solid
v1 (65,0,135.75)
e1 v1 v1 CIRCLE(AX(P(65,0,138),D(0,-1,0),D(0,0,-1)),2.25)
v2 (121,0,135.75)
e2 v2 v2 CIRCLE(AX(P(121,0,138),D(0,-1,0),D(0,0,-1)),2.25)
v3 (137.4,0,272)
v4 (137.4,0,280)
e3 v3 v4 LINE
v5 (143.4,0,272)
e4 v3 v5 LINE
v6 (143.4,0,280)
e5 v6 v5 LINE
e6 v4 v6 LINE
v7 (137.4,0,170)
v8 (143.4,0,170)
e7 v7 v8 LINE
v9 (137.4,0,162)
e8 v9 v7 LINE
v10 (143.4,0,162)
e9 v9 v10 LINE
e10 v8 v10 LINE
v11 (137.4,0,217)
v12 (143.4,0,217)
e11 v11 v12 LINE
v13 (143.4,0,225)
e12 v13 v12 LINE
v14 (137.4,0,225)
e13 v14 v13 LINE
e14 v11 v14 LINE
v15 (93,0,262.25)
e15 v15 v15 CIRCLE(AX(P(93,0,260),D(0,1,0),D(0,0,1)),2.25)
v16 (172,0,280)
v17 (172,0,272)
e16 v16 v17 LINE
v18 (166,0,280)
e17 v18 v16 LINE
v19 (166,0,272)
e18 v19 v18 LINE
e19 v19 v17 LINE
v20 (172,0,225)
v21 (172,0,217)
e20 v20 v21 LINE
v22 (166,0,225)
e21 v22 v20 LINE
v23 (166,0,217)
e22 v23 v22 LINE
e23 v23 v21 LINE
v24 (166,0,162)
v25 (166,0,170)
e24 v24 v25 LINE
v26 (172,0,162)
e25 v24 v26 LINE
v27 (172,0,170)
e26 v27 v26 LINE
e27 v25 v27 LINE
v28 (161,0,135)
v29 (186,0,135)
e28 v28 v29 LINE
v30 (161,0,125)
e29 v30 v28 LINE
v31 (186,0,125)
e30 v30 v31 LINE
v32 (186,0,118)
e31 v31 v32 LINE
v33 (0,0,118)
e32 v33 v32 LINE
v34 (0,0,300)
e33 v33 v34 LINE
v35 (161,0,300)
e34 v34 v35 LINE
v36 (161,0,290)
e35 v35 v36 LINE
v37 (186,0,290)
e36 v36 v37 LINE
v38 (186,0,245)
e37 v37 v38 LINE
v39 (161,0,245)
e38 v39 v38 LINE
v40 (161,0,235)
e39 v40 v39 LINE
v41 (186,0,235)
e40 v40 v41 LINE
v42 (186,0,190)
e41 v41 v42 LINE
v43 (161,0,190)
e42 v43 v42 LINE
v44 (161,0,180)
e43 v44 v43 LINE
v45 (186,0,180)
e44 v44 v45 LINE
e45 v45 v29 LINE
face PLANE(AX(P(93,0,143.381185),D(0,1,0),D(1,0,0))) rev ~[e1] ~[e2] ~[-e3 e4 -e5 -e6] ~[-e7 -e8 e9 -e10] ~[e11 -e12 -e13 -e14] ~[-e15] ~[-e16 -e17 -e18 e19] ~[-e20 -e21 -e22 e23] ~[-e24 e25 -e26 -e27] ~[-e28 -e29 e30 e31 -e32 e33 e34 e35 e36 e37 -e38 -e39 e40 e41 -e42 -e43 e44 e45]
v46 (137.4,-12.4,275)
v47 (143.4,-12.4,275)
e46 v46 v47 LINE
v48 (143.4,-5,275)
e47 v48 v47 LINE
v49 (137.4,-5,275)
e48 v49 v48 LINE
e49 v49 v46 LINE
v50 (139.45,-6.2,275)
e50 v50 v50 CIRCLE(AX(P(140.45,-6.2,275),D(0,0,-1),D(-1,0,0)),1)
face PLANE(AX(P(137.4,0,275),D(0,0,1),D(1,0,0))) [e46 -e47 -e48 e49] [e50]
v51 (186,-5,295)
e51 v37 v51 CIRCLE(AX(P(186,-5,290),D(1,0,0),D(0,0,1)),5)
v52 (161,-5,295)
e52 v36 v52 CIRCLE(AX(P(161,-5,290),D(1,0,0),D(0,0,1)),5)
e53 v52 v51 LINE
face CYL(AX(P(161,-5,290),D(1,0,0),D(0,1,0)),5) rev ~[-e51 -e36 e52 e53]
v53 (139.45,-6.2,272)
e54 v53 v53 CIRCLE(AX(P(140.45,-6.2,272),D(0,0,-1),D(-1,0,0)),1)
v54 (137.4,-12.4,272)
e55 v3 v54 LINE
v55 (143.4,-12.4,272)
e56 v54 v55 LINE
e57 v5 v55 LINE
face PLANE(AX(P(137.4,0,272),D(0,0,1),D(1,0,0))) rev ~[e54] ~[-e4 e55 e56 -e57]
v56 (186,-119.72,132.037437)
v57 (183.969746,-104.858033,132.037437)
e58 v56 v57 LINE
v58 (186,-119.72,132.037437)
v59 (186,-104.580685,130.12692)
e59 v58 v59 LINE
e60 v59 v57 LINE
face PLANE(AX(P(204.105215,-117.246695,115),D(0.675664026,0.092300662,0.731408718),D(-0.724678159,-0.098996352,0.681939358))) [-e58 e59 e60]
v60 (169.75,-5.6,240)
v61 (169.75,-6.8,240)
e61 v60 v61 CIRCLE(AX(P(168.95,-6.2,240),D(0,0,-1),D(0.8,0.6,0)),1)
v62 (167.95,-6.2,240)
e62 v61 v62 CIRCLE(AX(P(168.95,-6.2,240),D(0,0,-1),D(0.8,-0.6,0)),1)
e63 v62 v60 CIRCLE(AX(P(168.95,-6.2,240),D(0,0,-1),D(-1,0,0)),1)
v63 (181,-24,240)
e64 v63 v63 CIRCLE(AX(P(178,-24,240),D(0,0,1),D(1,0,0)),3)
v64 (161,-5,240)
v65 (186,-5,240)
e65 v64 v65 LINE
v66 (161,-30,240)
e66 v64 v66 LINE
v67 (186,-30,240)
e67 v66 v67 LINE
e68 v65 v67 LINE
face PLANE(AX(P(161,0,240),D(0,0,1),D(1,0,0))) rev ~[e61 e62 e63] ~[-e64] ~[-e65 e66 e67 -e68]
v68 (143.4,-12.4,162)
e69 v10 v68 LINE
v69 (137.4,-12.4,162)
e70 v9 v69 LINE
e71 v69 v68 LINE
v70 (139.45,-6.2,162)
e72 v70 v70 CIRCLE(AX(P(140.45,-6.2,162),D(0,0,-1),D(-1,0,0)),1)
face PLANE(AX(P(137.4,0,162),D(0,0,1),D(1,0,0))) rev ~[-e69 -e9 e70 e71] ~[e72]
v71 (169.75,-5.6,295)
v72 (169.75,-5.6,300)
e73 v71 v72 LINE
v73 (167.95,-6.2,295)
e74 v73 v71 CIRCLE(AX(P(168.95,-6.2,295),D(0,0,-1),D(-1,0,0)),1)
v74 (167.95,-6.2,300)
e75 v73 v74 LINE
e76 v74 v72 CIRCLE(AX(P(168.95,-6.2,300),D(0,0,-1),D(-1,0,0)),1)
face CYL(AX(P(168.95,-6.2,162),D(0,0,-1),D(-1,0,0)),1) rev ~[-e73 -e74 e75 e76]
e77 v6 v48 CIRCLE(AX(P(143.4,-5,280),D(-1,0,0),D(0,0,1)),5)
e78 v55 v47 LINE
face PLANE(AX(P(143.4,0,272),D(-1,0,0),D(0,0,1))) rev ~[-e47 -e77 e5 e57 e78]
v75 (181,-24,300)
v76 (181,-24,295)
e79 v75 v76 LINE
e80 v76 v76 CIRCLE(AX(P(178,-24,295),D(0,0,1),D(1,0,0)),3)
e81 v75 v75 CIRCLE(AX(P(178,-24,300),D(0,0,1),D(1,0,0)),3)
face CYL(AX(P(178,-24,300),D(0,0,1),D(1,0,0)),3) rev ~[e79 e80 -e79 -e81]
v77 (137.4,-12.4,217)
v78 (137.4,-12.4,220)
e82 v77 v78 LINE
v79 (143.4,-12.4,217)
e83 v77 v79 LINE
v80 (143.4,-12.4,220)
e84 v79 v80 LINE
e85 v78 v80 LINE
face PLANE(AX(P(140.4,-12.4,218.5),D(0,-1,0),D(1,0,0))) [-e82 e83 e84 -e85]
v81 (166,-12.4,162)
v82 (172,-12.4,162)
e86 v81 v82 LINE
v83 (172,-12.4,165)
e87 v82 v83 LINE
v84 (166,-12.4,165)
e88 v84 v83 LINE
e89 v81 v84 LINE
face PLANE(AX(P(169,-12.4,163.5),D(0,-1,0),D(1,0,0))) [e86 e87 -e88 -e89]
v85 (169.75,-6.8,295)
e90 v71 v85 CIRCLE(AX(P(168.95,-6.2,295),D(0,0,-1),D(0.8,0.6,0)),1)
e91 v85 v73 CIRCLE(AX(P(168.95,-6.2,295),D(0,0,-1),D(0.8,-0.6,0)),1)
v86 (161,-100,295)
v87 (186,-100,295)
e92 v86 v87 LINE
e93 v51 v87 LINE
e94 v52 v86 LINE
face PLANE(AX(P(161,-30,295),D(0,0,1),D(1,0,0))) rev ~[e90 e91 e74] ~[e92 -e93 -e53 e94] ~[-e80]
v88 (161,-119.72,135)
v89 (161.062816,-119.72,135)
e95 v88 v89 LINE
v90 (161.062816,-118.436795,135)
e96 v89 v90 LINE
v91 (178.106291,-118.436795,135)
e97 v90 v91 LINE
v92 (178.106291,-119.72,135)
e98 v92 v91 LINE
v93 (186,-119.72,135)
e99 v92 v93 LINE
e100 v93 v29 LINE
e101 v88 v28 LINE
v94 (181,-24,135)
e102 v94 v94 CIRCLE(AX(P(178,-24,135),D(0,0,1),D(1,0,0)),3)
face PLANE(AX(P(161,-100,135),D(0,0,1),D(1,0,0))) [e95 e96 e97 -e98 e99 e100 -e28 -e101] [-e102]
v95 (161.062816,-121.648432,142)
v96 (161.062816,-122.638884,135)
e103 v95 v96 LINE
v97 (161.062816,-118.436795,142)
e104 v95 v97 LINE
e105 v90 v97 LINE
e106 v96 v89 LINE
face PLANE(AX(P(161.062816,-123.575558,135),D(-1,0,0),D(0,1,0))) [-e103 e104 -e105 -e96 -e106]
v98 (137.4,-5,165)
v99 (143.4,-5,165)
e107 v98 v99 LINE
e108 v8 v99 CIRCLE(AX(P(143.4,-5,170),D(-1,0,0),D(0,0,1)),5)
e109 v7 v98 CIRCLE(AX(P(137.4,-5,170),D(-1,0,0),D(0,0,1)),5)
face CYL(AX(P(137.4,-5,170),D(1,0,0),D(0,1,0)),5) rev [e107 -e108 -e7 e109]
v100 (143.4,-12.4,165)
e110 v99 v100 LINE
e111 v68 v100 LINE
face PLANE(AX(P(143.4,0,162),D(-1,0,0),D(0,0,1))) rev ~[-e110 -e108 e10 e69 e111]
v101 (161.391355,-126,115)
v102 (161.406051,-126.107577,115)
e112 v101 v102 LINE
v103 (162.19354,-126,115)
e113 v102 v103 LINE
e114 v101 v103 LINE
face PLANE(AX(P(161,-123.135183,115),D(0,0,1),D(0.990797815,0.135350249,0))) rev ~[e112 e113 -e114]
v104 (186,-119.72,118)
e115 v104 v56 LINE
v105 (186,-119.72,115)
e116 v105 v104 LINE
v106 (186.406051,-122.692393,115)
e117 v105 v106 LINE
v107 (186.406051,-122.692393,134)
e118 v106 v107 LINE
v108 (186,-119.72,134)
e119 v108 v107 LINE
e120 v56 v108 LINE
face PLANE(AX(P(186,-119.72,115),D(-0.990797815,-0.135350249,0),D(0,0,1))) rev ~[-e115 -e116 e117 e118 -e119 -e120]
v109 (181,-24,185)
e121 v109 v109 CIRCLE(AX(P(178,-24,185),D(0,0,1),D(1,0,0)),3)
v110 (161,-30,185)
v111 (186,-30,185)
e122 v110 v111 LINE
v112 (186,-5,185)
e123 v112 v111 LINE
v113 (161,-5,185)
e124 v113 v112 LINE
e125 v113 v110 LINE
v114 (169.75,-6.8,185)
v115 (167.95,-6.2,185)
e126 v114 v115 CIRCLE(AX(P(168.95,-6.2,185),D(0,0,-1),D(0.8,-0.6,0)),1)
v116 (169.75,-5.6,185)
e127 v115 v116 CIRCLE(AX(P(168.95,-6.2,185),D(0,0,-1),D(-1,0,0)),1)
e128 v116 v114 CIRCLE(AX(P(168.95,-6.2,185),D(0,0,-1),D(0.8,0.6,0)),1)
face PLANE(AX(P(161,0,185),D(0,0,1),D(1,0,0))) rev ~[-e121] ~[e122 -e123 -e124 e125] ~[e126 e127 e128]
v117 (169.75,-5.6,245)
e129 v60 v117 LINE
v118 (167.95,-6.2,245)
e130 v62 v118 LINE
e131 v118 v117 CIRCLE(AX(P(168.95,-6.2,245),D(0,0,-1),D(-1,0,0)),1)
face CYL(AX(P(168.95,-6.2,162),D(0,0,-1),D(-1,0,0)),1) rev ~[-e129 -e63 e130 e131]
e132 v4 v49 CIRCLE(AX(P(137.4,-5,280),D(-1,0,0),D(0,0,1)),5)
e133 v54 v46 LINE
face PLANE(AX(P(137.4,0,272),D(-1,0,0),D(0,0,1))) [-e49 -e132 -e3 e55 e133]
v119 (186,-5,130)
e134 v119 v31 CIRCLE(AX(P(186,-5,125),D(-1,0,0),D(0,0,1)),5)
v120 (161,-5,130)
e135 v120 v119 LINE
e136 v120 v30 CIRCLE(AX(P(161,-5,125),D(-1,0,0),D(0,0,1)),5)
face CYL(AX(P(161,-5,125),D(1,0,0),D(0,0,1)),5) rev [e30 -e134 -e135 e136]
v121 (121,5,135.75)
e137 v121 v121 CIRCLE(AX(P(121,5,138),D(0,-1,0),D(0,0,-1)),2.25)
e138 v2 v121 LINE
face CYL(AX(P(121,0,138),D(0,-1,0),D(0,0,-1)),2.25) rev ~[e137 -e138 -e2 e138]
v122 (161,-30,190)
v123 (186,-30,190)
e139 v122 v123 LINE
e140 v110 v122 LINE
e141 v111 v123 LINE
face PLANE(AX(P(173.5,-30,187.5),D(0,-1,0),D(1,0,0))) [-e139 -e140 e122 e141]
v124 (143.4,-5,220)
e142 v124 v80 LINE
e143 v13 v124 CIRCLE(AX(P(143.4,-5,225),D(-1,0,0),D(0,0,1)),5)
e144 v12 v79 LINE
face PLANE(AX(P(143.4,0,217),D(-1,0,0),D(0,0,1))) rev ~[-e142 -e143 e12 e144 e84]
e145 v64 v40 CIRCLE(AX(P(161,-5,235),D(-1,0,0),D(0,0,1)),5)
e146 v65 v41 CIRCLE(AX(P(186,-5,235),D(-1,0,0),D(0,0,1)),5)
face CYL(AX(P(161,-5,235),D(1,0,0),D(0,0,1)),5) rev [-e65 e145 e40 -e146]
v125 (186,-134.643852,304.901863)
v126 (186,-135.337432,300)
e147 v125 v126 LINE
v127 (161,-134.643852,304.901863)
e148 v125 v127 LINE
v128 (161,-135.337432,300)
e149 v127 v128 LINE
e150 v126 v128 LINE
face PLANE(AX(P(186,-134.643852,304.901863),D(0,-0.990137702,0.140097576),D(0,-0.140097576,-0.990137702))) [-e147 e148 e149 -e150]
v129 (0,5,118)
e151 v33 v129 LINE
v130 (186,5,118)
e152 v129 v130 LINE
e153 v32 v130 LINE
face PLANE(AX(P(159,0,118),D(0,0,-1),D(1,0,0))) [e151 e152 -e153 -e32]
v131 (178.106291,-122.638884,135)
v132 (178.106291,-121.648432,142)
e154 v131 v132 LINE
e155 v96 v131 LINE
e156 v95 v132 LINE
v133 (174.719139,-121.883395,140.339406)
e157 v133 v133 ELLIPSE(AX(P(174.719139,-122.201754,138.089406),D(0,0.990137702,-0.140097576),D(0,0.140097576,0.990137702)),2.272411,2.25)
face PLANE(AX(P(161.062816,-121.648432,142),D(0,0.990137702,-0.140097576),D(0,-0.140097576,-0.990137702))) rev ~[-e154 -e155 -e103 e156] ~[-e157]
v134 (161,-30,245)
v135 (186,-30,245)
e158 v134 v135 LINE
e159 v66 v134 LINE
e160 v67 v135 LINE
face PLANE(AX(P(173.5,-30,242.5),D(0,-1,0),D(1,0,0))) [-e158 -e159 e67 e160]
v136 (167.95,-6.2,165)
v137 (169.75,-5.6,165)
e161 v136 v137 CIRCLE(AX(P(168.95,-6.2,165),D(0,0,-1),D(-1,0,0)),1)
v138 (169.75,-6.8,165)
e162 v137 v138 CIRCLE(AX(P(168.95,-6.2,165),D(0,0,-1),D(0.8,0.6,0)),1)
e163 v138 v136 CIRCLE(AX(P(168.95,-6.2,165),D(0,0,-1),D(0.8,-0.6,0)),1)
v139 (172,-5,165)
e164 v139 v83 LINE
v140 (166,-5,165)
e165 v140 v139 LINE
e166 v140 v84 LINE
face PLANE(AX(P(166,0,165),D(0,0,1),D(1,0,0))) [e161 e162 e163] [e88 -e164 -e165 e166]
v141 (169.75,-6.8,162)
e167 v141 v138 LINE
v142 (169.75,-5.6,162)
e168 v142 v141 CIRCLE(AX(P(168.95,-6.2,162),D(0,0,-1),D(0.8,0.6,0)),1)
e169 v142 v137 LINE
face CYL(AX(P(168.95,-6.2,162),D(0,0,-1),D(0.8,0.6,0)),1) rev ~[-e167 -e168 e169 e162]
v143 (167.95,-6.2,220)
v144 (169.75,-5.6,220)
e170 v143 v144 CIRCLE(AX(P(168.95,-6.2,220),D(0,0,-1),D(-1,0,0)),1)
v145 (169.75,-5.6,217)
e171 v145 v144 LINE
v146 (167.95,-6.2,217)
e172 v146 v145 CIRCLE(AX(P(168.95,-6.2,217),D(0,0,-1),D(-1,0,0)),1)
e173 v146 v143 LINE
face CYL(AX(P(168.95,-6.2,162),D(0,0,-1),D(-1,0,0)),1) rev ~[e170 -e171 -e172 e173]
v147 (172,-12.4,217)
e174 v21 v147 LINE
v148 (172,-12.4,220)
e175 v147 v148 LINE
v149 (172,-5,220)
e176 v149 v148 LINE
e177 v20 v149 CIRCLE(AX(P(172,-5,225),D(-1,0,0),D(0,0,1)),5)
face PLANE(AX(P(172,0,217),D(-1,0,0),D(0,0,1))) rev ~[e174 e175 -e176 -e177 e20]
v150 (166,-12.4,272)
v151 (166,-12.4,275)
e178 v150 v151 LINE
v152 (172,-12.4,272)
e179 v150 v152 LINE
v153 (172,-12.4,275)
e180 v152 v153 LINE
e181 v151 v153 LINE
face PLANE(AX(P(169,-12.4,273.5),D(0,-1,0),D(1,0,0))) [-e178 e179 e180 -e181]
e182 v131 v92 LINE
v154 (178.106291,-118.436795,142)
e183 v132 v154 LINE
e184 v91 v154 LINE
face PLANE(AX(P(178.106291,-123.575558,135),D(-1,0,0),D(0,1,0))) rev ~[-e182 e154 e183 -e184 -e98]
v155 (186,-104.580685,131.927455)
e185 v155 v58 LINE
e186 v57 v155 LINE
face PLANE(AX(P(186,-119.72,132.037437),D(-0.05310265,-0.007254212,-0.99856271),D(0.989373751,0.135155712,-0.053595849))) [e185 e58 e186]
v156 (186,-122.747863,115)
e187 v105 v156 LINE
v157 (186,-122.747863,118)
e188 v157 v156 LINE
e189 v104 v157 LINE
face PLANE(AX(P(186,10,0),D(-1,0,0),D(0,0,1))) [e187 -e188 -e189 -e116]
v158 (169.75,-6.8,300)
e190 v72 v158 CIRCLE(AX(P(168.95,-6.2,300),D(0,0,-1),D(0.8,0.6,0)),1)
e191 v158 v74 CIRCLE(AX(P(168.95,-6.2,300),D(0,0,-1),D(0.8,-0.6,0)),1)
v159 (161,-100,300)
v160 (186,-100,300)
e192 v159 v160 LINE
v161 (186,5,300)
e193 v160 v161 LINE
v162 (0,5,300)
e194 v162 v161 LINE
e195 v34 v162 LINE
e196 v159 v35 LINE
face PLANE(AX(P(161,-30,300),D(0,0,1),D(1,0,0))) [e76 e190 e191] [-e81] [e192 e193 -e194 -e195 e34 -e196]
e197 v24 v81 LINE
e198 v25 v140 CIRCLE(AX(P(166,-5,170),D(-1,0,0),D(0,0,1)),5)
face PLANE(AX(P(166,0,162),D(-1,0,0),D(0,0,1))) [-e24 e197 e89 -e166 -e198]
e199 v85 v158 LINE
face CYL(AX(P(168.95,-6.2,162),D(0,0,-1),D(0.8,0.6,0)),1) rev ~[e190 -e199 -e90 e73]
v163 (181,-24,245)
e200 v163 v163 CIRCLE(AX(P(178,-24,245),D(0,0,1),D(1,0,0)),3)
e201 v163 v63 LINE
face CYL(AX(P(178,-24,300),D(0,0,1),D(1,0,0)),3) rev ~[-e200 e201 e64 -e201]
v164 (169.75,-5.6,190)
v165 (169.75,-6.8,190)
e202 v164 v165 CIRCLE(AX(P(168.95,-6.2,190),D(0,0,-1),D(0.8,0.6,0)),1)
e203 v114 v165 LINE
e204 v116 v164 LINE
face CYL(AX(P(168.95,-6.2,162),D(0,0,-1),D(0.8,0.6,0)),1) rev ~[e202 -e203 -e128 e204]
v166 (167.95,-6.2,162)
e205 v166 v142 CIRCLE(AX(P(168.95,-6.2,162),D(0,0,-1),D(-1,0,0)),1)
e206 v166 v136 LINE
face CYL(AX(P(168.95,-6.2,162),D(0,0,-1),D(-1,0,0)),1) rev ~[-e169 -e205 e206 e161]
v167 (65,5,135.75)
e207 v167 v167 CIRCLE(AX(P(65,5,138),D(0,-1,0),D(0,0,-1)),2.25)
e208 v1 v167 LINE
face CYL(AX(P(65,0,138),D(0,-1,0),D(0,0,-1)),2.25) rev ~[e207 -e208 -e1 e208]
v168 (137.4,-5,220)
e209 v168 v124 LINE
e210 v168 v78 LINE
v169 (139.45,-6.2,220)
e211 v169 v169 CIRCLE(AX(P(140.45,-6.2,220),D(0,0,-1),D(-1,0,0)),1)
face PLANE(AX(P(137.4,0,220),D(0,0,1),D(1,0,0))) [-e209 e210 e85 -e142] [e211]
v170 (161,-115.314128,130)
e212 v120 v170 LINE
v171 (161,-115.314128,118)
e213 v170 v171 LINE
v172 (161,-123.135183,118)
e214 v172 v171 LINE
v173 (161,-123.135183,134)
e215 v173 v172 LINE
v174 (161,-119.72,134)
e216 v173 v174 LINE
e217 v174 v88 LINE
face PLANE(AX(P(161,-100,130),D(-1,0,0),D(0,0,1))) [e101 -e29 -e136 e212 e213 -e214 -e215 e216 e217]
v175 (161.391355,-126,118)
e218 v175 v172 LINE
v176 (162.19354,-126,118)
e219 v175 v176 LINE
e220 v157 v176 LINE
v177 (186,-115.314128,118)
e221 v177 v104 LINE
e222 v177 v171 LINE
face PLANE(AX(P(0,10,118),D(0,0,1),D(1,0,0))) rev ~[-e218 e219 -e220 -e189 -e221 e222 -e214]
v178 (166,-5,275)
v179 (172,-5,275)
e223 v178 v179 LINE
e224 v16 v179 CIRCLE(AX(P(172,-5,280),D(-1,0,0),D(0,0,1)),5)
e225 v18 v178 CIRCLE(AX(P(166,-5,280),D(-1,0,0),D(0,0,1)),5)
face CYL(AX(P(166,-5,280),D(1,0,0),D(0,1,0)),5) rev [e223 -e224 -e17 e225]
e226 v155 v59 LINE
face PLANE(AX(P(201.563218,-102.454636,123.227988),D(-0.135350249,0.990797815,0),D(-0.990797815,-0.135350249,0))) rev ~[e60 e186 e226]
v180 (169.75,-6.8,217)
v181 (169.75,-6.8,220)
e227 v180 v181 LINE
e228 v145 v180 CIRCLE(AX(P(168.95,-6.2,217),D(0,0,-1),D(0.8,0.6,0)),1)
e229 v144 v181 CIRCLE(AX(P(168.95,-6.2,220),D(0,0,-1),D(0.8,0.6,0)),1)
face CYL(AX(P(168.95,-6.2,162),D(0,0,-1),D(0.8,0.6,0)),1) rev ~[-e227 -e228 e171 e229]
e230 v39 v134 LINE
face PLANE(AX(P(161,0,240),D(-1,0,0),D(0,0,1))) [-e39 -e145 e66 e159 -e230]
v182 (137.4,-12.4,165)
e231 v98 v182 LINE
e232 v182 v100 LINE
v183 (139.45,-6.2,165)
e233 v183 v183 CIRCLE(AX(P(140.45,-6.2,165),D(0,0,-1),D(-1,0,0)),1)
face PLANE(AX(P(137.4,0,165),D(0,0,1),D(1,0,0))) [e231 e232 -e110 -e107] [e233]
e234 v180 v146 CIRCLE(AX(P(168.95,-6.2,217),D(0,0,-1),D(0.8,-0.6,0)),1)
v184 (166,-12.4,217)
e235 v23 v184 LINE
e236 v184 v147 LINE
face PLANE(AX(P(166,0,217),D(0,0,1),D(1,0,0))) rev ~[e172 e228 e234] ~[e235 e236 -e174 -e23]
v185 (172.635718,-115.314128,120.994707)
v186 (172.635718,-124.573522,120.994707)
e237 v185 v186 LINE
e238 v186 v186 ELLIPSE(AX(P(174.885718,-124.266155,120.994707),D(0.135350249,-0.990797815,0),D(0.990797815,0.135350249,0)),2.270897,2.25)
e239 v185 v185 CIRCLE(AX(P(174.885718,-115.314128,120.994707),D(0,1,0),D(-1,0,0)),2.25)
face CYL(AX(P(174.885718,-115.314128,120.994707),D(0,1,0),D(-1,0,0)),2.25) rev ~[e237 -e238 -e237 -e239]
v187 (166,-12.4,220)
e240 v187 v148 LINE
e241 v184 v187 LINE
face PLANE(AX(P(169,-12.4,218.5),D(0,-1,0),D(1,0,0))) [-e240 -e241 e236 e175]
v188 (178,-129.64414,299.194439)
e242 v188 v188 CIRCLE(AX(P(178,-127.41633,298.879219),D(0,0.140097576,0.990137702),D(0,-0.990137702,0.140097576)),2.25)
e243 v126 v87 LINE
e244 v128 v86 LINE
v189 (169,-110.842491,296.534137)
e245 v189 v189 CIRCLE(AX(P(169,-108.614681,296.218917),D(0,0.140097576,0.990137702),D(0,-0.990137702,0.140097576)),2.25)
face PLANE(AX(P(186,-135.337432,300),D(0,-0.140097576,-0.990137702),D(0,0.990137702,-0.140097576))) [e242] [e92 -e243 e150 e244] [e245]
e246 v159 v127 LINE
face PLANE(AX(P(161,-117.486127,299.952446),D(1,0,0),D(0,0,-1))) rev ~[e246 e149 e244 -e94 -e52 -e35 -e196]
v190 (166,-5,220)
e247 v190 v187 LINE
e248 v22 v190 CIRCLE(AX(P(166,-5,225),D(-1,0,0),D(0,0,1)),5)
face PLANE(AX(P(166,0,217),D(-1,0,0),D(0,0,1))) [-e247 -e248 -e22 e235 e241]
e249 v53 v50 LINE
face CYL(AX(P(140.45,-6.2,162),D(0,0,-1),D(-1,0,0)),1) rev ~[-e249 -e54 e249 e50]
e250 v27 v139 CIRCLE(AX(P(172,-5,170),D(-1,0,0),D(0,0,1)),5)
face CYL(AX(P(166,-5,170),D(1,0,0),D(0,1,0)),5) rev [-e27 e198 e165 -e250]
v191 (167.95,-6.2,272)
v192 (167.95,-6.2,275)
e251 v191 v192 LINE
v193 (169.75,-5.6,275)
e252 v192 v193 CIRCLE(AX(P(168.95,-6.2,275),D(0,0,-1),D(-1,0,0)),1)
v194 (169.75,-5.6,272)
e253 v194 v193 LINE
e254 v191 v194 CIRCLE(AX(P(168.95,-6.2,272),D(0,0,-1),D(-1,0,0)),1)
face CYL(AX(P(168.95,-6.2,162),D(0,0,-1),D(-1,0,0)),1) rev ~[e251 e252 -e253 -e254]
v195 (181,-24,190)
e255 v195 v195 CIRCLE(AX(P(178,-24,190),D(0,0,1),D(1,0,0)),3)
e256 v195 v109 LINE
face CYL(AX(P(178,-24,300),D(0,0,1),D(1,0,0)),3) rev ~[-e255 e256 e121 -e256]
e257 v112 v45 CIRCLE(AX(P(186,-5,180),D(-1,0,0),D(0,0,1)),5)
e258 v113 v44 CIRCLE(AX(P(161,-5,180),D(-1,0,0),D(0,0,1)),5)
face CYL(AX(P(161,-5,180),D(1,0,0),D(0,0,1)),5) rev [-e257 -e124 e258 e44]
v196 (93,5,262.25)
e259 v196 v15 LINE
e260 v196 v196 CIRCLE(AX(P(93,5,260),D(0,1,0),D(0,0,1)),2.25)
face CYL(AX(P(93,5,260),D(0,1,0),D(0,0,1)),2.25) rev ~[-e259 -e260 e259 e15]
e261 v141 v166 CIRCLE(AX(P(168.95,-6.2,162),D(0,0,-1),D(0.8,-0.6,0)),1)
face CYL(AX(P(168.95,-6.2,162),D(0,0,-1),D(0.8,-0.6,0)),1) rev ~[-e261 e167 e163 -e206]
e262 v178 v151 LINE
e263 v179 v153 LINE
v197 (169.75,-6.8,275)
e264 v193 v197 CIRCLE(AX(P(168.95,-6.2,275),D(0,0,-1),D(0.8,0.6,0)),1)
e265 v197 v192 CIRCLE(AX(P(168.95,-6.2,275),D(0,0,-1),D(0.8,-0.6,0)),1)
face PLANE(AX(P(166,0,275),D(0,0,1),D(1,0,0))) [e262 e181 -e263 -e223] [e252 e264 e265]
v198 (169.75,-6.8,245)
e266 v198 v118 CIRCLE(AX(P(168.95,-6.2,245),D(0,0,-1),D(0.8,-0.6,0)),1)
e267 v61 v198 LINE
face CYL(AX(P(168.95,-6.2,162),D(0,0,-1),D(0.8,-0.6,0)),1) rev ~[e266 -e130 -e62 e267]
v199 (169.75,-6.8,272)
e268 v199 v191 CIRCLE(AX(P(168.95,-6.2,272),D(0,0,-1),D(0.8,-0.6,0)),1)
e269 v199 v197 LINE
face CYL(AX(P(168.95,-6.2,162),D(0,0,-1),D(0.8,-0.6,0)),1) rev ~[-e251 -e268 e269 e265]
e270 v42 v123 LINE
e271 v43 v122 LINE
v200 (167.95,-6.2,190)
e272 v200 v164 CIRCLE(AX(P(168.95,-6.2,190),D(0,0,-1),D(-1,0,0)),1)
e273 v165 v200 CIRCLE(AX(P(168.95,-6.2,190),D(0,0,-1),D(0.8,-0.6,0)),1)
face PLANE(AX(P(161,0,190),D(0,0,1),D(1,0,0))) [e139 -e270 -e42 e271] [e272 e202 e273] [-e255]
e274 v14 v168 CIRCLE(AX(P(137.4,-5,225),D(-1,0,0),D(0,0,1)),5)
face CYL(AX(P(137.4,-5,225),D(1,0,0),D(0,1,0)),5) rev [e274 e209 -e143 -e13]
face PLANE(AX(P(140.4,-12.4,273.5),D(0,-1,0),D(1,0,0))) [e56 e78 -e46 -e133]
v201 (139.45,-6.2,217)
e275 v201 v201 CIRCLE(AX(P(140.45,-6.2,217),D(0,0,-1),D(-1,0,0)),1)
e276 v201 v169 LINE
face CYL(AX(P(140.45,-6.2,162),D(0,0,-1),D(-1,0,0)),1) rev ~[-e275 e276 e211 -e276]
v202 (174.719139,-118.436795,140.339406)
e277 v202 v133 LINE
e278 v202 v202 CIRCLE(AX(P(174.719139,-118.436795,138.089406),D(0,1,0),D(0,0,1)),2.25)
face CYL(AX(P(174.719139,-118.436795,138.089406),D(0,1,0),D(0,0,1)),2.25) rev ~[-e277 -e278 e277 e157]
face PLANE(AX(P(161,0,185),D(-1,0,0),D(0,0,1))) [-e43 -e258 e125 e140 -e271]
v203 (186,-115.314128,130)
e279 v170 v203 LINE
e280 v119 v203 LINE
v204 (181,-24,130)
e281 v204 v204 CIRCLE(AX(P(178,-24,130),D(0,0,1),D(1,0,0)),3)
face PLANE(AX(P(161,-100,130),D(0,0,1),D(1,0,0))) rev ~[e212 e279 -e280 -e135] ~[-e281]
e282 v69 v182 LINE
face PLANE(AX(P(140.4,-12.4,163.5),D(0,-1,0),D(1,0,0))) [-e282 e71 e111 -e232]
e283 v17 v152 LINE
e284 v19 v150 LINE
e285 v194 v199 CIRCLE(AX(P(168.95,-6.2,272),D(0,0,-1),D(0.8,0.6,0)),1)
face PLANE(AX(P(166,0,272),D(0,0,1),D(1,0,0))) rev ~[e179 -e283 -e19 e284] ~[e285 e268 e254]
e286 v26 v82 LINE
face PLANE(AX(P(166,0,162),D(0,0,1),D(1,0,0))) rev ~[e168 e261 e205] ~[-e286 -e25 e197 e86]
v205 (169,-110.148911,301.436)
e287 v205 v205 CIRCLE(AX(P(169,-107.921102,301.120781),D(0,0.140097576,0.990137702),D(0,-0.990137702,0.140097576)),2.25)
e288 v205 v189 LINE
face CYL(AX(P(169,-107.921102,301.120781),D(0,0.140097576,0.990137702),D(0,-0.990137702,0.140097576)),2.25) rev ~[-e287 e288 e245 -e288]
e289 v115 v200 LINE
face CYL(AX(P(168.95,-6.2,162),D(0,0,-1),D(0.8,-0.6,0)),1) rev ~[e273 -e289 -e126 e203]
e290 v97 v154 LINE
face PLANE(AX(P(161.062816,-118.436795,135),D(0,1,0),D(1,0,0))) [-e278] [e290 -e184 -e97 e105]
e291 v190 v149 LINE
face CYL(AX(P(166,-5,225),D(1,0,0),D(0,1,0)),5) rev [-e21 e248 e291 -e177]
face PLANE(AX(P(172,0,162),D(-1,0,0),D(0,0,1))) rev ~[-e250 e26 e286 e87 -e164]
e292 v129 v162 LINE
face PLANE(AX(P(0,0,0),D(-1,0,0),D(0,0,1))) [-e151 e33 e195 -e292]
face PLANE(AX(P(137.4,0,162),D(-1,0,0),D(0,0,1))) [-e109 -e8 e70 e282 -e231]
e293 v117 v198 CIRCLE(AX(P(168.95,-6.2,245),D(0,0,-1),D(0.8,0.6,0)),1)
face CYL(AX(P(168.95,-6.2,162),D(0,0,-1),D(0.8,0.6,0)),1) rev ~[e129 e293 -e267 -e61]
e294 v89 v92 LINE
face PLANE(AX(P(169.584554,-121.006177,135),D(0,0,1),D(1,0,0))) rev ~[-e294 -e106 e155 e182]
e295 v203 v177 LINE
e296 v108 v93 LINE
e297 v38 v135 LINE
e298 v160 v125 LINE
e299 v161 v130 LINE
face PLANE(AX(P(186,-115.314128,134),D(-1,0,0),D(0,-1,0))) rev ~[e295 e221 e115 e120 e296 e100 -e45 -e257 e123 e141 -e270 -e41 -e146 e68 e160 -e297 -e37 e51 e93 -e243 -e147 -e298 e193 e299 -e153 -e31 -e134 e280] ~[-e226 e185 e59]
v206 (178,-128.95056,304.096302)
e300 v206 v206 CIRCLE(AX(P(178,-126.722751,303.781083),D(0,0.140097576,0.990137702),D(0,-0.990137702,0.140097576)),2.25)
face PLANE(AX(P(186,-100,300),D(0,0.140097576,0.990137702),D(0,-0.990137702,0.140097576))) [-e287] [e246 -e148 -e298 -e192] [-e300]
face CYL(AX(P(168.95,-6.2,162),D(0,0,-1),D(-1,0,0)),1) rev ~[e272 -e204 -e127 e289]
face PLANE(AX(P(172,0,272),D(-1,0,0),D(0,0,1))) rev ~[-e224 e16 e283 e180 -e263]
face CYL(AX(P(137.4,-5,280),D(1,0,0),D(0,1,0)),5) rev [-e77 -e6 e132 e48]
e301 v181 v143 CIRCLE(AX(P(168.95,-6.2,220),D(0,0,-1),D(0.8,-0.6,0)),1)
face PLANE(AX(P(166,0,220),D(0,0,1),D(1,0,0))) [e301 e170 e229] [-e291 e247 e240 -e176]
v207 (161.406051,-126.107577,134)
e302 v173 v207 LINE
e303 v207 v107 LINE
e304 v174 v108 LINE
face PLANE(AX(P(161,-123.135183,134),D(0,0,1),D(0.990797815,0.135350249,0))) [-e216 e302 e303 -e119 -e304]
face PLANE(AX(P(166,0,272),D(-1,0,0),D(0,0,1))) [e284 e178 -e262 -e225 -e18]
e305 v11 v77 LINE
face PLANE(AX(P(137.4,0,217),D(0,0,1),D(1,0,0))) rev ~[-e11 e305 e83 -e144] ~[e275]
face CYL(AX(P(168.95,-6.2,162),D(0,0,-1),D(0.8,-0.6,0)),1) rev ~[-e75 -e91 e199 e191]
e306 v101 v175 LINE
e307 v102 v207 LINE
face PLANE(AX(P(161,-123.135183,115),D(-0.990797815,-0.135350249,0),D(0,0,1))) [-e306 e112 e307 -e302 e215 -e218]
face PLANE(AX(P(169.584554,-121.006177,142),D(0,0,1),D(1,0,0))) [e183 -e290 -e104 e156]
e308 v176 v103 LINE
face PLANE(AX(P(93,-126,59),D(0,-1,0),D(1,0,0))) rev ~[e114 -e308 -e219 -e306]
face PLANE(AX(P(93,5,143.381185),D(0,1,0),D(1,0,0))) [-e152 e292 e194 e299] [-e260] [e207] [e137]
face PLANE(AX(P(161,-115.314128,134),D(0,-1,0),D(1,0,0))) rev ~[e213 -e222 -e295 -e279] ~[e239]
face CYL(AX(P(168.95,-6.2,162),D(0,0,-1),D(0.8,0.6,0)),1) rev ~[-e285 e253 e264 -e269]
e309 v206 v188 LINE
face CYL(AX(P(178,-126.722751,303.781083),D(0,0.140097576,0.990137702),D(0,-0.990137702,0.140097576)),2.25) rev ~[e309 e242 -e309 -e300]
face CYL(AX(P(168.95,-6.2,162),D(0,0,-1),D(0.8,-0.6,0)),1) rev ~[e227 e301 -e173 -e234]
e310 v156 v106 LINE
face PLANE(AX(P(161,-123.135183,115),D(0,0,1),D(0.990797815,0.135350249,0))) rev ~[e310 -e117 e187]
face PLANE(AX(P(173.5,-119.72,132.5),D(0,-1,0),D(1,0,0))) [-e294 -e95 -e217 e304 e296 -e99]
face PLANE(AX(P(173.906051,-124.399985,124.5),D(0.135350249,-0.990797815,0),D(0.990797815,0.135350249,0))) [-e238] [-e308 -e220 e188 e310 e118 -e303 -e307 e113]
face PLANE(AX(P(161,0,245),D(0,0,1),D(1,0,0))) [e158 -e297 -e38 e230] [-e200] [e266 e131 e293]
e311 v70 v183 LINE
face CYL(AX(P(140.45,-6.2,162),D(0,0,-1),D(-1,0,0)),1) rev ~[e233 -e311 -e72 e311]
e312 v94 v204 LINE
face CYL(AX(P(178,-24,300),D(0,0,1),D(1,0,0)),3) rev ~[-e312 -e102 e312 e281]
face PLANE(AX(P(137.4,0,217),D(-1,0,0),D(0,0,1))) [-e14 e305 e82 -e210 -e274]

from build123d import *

# Parameters (mm, degrees)
BOSS_EXTRUDE1_DEPTH      = 5
SKETCH2_W                = 5
SKETCH2_H                = 22.5
BOSS_EXTRUDE2_DEPTH      = 38
SKETCH5_W                = 25
SKETCH5_H                = 5
BOSS_EXTRUDE3_DEPTH      = 30
FILLET3_R                = 5
SKETCH6_R                = 3
CUT_EXTRUDE4_DEPTH       = 172
SKETCH7_W                = 5
SKETCH7_H                = 22.5
BOSS_EXTRUDE4_DEPTH      = 51.5
SKETCH3_R                = 1.3
CUT_EXTRUDE2_DEPTH       = 357.71872673
SKETCH9_W                = 116
SKETCH9_H                = 63.779574991
CUT_EXTRUDE6_DEPTH       = 10
SKETCH10_W               = 25
SKETCH10_H               = 5
BOSS_EXTRUDE5_DEPTH      = 70
BOSS_EXTRUDE6_DEPTH      = 25
SKETCH12_W               = 25
SKETCH12_H               = 5
BOSS_EXTRUDE7_DEPTH      = 19.72
BOSS_EXTRUDE8_DEPTH      = 15
BOSS_EXTRUDE8_DEPTH_BACK = 4
CUT_EXTRUDE7_DEPTH       = 15
SKETCH15_R               = 2.25
CUT_EXTRUDE8_DEPTH       = 20
SKETCH16_W               = 6
SKETCH16_H               = 3
BOSS_EXTRUDE9_DEPTH      = 12.4
SKETCH17_R               = 1
CUT_EXTRUDE9_DEPTH       = 282.347152812
SKETCH27_W               = 25.232191294
SKETCH27_H               = 19
BOSS_EXTRUDE11_DEPTH     = 3
FILLET4_R                = 5
SKETCH18_R               = 2.25
CUT_EXTRUDE10_DEPTH      = 378.078044336
SKETCH19_W               = 4.5
SKETCH19_H               = 6
CUT_EXTRUDE12_DEPTH      = 383.13686347
FILLET6_R                = 10
SKETCH21_W               = 27
SKETCH21_H               = 70
CUT_EXTRUDE14_DEPTH      = 383.13686347
FILLET7_R                = 10
FILLET8_R                = 2.5
SKETCH22_R               = 2.25
CUT_EXTRUDE16_DEPTH      = 10
SKETCH23_W               = 17.043474802
SKETCH23_H               = 5.138762975
BOSS_EXTRUDE10_DEPTH     = 7
CUT_EXTRUDE17_REACH      = 372.436
CUT_EXTRUDE18_REACH      = 380.086
SKETCH25_R               = 2.25
SKETCH28_R               = 2.25
CUT_EXTRUDE19_DEPTH      = 384.936136276
CUT_EXTRUDE20_DEPTH      = 126
CUT_EXTRUDE20_DEPTH_BACK = 10
SKETCH29_W               = 186
SKETCH29_H               = 118
SKETCH30_R               = 2.25
CUT_EXTRUDE21_DEPTH      = 383.13686347


with BuildPart() as part:
    # Sketch1 → Boss-Extrude1 (new body)
    with BuildSketch(Plane(origin=(0, 0, 0), x_dir=(1, 0, 0), z_dir=(0, 1, 0))):
        Polygon((0, 0), (0, -300), (186, -300), (186, 0), (176, 0), (151, 0), (151, -56.115865257), (35, -56.115865257), (35, 0), (10, 0), align=None)
    extrude(amount=BOSS_EXTRUDE1_DEPTH)

    # Sketch2 → Boss-Extrude2 (add)
    with BuildSketch(Plane.XZ):
        with Locations((53, 82.75)):
            Rectangle(SKETCH2_W, SKETCH2_H)
        with Locations((133, 82.75)):
            Rectangle(SKETCH2_W, SKETCH2_H)
    extrude(amount=BOSS_EXTRUDE2_DEPTH)

    # Sketch5 → Boss-Extrude3 (add)
    with BuildSketch(Plane.XZ):
        with Locations((173.5, 297.5)):
            Rectangle(SKETCH5_W, SKETCH5_H)
        with Locations((173.5, 242.5)):
            Rectangle(SKETCH5_W, SKETCH5_H)
        with Locations((173.5, 187.5)):
            Rectangle(SKETCH5_W, SKETCH5_H)
        with Locations((173.5, 132.5)):
            Rectangle(SKETCH5_W, SKETCH5_H)
    extrude(amount=BOSS_EXTRUDE3_DEPTH)

    # Fillet3
    fillet3_edges = [part.edges().sort_by_distance(p)[0] for p in [
        (173.5, 0, 295),
        (173.5, 0, 240),
        (173.5, 0, 185),
        (173.5, 0, 130),
    ]]
    fillet(fillet3_edges, radius=FILLET3_R)

    # Sketch6 → Cut-Extrude4 (cut)
    with BuildSketch(Plane.XY.offset(300)):
        with Locations((178, -24)):
            Circle(SKETCH6_R)
    extrude(amount=-CUT_EXTRUDE4_DEPTH, mode=Mode.SUBTRACT)

    # Sketch7 → Boss-Extrude4 (add)
    with BuildSketch(Plane.XZ):
        with Locations((2.5, 11.25)):
            Rectangle(SKETCH7_W, SKETCH7_H)
        with Locations((183.5, 11.25)):
            Rectangle(SKETCH7_W, SKETCH7_H)
    extrude(amount=BOSS_EXTRUDE4_DEPTH)

    # Sketch3 → Cut-Extrude2 (cut, through all)
    with BuildSketch(Plane(origin=(186, 0, 0), x_dir=(0, 0, -1), z_dir=(1, 0, 0))):
        with Locations((-74, -32.9)):
            Circle(SKETCH3_R)
        with Locations((-91.5, -32.9)):
            Circle(SKETCH3_R)
        with Locations((-20, -46.4)):
            Circle(SKETCH3_R)
        with Locations((-2.5, -46.4)):
            Circle(SKETCH3_R)
    extrude(amount=-CUT_EXTRUDE2_DEPTH, mode=Mode.SUBTRACT)

    # Sketch9 → Cut-Extrude6 (cut)
    with BuildSketch(Plane.XZ):
        with Locations((93, 31.889787496)):
            Rectangle(SKETCH9_W, SKETCH9_H)
    extrude(amount=-CUT_EXTRUDE6_DEPTH, mode=Mode.SUBTRACT)

    # Sketch10 → Boss-Extrude5 (add)
    with BuildSketch(Plane.XZ.offset(30)):
        with Locations((173.5, 297.5)):
            Rectangle(SKETCH10_W, SKETCH10_H)
        with Locations((173.5, 132.5)):
            Rectangle(SKETCH10_W, SKETCH10_H)
    extrude(amount=BOSS_EXTRUDE5_DEPTH)

    # Sketch11 → Boss-Extrude6 (add)
    with BuildSketch(Plane(origin=(186, 0, 0), x_dir=(0, 0, -1), z_dir=(1, 0, 0))):
        Polygon((-300, -100), (-304.901863346, -134.643852153), (-300, -135.337431613), (-295, -100), align=None)
    extrude(amount=-BOSS_EXTRUDE6_DEPTH)

    # Sketch12 → Boss-Extrude7 (add)
    with BuildSketch(Plane.XZ.offset(100)):
        with Locations((173.5, 132.5)):
            Rectangle(SKETCH12_W, SKETCH12_H)
    extrude(amount=BOSS_EXTRUDE7_DEPTH)

    # Sketch13 → Boss-Extrude8 (add, two sides: drawn at the far end of the back side and taken through both)
    with BuildSketch(Plane(origin=(0, 0, 130), x_dir=(-1, 0, 0), z_dir=(0, 0, -1)).offset(-BOSS_EXTRUDE8_DEPTH_BACK)):
        Polygon((-186, -115.314128401), (-186, -119.72), (-161, -123.135183378), (-161, -115.314128401), align=None)
    extrude(amount=BOSS_EXTRUDE8_DEPTH + BOSS_EXTRUDE8_DEPTH_BACK)

    # Sketch14 → Cut-Extrude7 (cut)
    with BuildSketch(Plane(origin=(19.462480736, -142.470246704, 0), x_dir=(0.9907978149243063, 0.1353502491361595, 0), z_dir=(0.1353502491361595, -0.9907978149243063, 0))):
        Polygon((186.357631366, 115), (168.084261749, 132.037436989), (198.015187573, 130.430954629), (197.515117956, 111.366582762), (186.357631366, 109.607523038), align=None)
    extrude(amount=-CUT_EXTRUDE7_DEPTH, mode=Mode.SUBTRACT)

    # Sketch15 → Cut-Extrude8 (cut)
    with BuildSketch(Plane(origin=(0, 39.65203451, 280.240211564), x_dir=(1, 0, 0), z_dir=(0, 0.14009757598944012, 0.9901377021414158))):
        with Locations(Location((178, -168.031966348, 0), (0, 0, 270))):
            Circle(SKETCH15_R)
        with Locations(Location((169, -149.043043011, 0), (0, 0, 270))):
            Circle(SKETCH15_R)
    extrude(amount=-CUT_EXTRUDE8_DEPTH, mode=Mode.SUBTRACT)

    # Sketch16 → Boss-Extrude9 (add)
    with BuildSketch(Plane.XZ):
        with Locations((169, 273.5)):
            Rectangle(SKETCH16_W, SKETCH16_H)
        with Locations((140.4, 273.5)):
            Rectangle(SKETCH16_W, SKETCH16_H)
        with Locations((169, 218.5)):
            Rectangle(SKETCH16_W, SKETCH16_H)
        with Locations((169, 163.5)):
            Rectangle(SKETCH16_W, SKETCH16_H)
        with Locations((140.4, 218.5)):
            Rectangle(SKETCH16_W, SKETCH16_H)
        with Locations((140.4, 163.5)):
            Rectangle(SKETCH16_W, SKETCH16_H)
    extrude(amount=BOSS_EXTRUDE9_DEPTH)

    # Sketch17 → Cut-Extrude9 (cut, through all)
    with BuildSketch(Plane(origin=(0, 0, 162), x_dir=(-1, 0, 0), z_dir=(0, 0, -1))):
        with BuildLine():
            ThreePointArc((-169.75, -5.6), (-169.95, -6.2), (-169.75, -6.8))
            ThreePointArc((-169.75, -6.8), (-168.633772234, -7.148683298), (-167.95, -6.2))
            ThreePointArc((-167.95, -6.2), (-168.633772234, -5.251316702), (-169.75, -5.6))
        make_face()
        with Locations((-140.45, -6.2)):
            Circle(SKETCH17_R)
    extrude(amount=-CUT_EXTRUDE9_DEPTH, mode=Mode.SUBTRACT)

    # Sketch27 → Boss-Extrude11 (add)
    with BuildSketch(Plane(origin=(19.462480736, -142.470246704, 0), x_dir=(0.9907978149243063, 0.1353502491361595, 0), z_dir=(0.1353502491361595, -0.9907978149243063, 0))):
        with Locations((155.468166102, 124.5)):
            Rectangle(SKETCH27_W, SKETCH27_H)
    extrude(amount=BOSS_EXTRUDE11_DEPTH)

    # Fillet4
    fillet4_edges = [part.edges().sort_by_distance(p)[0] for p in [
        (140.4, 0, 220),
        (169, 0, 165),
        (169, 0, 220),
        (140.4, 0, 275),
        (140.4, 0, 165),
        (169, 0, 275),
    ]]
    fillet(fillet4_edges, radius=FILLET4_R)

    # Sketch18 → Cut-Extrude10 (cut, through all)
    with BuildSketch(Plane(origin=(0, -115.314128401, 0), x_dir=(1, 0, 0), z_dir=(0, 1, 0))):
        with Locations(Location((174.885718372, -120.99470656, 0), (0, 0, 180))):
            Circle(SKETCH18_R)
    extrude(amount=-CUT_EXTRUDE10_DEPTH, mode=Mode.SUBTRACT)

    # Sketch19 → Cut-Extrude12 (cut, through all)
    with BuildSketch(Plane.XZ):
        with Locations((144.95, 82.75)):
            Rectangle(SKETCH19_W, SKETCH19_H)
        with Locations((41.05, 82.75)):
            Rectangle(SKETCH19_W, SKETCH19_H)
    extrude(amount=-CUT_EXTRUDE12_DEPTH, mode=Mode.SUBTRACT)

    # Fillet6
    fillet6_edges = [part.edges().sort_by_distance(p)[0] for p in [
        (35, 2.5, 63.779574991),
        (151, 2.5, 63.779574991),
    ]]
    fillet(fillet6_edges, radius=FILLET6_R)

    # Sketch21 → Cut-Extrude14 (cut, through all)
    with BuildSketch(Plane.XZ):
        with Locations((13.5, 83)):
            Rectangle(SKETCH21_W, SKETCH21_H)
        with Locations((172.5, 83)):
            Rectangle(SKETCH21_W, SKETCH21_H)
    extrude(amount=-CUT_EXTRUDE14_DEPTH, mode=Mode.SUBTRACT)

    # Fillet7
    fillet7_edges = [part.edges().sort_by_distance(p)[0] for p in [
        (27, 2.5, 118),
        (27, 2.5, 48),
        (159, 2.5, 48),
        (159, 2.5, 118),
    ]]
    fillet(fillet7_edges, radius=FILLET7_R)

    # Fillet8
    fillet8_edges = [part.edges().sort_by_distance(p)[0] for p in [
        (55.5, 0, 82.75),
        (130.5, 0, 82.75),
    ]]
    fillet(fillet8_edges, radius=FILLET8_R)

    # Sketch22 → Cut-Extrude16 (cut)
    with BuildSketch(Plane.XZ):
        with Locations(Location((123, 76.044790491, 0), (0, 0, 270))):
            Circle(SKETCH22_R)
        with Locations(Location((63, 76.044790491, 0), (0, 0, 270))):
            Circle(SKETCH22_R)
        with Locations(Location((24.5, 25.25, 0), (0, 0, 270))):
            Circle(SKETCH22_R)
        with Locations(Location((161.5, 25.617459027, 0), (0, 0, 270))):
            Circle(SKETCH22_R)
    extrude(amount=-CUT_EXTRUDE16_DEPTH, mode=Mode.SUBTRACT)

    # Sketch23 → Boss-Extrude10 (add)
    with BuildSketch(Plane.XY.offset(135)):
        with Locations((169.584553608, -121.006176699)):
            Rectangle(SKETCH23_W, SKETCH23_H)
    extrude(amount=BOSS_EXTRUDE10_DEPTH)

    # Sketch24 → Cut-Extrude17 (cut, up to next)
    with BuildSketch(Plane.ZY.offset(-161.062816207), mode=Mode.PRIVATE) as cut_extrude17_sk1:
        Polygon((142, -121.648432415), (135, -122.638883571), (134.714975443, -124.33810847), (142, -124.33810847), align=None)
    cut_extrude17_tool1 = extrude(cut_extrude17_sk1.sketch, amount=-CUT_EXTRUDE17_REACH, mode=Mode.PRIVATE) & part.part
    add(cut_extrude17_tool1.solids().sort_by_distance((161.062816, -123.230784, 138.703404))[0], mode=Mode.SUBTRACT)

    # Cut-Extrude18: up to this plane
    cut_extrude18_end = Plane(origin=(186.407050747, -121.648432415, 142), z_dir=(0, 0.9901377021414159, -0.1400975759894394))
    # Sketch25 → Cut-Extrude18 (cut, up to the surface)
    with BuildSketch(Plane(origin=(0, -118.436795211, 0), x_dir=(1, 0, 0), z_dir=(0, 1, 0)), mode=Mode.PRIVATE) as cut_extrude18_sk1:
        with Locations(Location((174.719138996, -138.089405518, 0), (0, 0, 270))):
            Circle(SKETCH25_R)
    cut_extrude18_tool1 = split(extrude(cut_extrude18_sk1.sketch, amount=-CUT_EXTRUDE18_REACH, mode=Mode.PRIVATE), bisect_by=cut_extrude18_end, keep=Keep.BOTH, mode=Mode.PRIVATE)
    add(cut_extrude18_tool1.solids().sort_by_distance((174.719139, -118.436795, 138.089406))[0], mode=Mode.SUBTRACT)

    # Sketch28 → Cut-Extrude19 (cut, through all)
    with BuildSketch(Plane(origin=(0, 5, 0), x_dir=(1, 0, 0), z_dir=(0, 1, 0))):
        with Locations(Location((93, -260, 0), (0, 0, 270))):
            Circle(SKETCH28_R)
    extrude(amount=-CUT_EXTRUDE19_DEPTH, mode=Mode.SUBTRACT)

    # Sketch29 → Cut-Extrude20 (cut, two sides: drawn at the far end of the back side and taken through both)
    with BuildSketch(Plane.XZ.offset(-CUT_EXTRUDE20_DEPTH_BACK)):
        with Locations((93, 59)):
            Rectangle(SKETCH29_W, SKETCH29_H)
    extrude(amount=CUT_EXTRUDE20_DEPTH + CUT_EXTRUDE20_DEPTH_BACK, mode=Mode.SUBTRACT)

    # Sketch30 → Cut-Extrude21 (cut, through all)
    with BuildSketch(Plane.XZ):
        with Locations(Location((65, 138, 0), (0, 0, 270))):
            Circle(SKETCH30_R)
        with Locations(Location((121, 138, 0), (0, 0, 270))):
            Circle(SKETCH30_R)
    extrude(amount=-CUT_EXTRUDE21_DEPTH, mode=Mode.SUBTRACT)


solid = part.part
